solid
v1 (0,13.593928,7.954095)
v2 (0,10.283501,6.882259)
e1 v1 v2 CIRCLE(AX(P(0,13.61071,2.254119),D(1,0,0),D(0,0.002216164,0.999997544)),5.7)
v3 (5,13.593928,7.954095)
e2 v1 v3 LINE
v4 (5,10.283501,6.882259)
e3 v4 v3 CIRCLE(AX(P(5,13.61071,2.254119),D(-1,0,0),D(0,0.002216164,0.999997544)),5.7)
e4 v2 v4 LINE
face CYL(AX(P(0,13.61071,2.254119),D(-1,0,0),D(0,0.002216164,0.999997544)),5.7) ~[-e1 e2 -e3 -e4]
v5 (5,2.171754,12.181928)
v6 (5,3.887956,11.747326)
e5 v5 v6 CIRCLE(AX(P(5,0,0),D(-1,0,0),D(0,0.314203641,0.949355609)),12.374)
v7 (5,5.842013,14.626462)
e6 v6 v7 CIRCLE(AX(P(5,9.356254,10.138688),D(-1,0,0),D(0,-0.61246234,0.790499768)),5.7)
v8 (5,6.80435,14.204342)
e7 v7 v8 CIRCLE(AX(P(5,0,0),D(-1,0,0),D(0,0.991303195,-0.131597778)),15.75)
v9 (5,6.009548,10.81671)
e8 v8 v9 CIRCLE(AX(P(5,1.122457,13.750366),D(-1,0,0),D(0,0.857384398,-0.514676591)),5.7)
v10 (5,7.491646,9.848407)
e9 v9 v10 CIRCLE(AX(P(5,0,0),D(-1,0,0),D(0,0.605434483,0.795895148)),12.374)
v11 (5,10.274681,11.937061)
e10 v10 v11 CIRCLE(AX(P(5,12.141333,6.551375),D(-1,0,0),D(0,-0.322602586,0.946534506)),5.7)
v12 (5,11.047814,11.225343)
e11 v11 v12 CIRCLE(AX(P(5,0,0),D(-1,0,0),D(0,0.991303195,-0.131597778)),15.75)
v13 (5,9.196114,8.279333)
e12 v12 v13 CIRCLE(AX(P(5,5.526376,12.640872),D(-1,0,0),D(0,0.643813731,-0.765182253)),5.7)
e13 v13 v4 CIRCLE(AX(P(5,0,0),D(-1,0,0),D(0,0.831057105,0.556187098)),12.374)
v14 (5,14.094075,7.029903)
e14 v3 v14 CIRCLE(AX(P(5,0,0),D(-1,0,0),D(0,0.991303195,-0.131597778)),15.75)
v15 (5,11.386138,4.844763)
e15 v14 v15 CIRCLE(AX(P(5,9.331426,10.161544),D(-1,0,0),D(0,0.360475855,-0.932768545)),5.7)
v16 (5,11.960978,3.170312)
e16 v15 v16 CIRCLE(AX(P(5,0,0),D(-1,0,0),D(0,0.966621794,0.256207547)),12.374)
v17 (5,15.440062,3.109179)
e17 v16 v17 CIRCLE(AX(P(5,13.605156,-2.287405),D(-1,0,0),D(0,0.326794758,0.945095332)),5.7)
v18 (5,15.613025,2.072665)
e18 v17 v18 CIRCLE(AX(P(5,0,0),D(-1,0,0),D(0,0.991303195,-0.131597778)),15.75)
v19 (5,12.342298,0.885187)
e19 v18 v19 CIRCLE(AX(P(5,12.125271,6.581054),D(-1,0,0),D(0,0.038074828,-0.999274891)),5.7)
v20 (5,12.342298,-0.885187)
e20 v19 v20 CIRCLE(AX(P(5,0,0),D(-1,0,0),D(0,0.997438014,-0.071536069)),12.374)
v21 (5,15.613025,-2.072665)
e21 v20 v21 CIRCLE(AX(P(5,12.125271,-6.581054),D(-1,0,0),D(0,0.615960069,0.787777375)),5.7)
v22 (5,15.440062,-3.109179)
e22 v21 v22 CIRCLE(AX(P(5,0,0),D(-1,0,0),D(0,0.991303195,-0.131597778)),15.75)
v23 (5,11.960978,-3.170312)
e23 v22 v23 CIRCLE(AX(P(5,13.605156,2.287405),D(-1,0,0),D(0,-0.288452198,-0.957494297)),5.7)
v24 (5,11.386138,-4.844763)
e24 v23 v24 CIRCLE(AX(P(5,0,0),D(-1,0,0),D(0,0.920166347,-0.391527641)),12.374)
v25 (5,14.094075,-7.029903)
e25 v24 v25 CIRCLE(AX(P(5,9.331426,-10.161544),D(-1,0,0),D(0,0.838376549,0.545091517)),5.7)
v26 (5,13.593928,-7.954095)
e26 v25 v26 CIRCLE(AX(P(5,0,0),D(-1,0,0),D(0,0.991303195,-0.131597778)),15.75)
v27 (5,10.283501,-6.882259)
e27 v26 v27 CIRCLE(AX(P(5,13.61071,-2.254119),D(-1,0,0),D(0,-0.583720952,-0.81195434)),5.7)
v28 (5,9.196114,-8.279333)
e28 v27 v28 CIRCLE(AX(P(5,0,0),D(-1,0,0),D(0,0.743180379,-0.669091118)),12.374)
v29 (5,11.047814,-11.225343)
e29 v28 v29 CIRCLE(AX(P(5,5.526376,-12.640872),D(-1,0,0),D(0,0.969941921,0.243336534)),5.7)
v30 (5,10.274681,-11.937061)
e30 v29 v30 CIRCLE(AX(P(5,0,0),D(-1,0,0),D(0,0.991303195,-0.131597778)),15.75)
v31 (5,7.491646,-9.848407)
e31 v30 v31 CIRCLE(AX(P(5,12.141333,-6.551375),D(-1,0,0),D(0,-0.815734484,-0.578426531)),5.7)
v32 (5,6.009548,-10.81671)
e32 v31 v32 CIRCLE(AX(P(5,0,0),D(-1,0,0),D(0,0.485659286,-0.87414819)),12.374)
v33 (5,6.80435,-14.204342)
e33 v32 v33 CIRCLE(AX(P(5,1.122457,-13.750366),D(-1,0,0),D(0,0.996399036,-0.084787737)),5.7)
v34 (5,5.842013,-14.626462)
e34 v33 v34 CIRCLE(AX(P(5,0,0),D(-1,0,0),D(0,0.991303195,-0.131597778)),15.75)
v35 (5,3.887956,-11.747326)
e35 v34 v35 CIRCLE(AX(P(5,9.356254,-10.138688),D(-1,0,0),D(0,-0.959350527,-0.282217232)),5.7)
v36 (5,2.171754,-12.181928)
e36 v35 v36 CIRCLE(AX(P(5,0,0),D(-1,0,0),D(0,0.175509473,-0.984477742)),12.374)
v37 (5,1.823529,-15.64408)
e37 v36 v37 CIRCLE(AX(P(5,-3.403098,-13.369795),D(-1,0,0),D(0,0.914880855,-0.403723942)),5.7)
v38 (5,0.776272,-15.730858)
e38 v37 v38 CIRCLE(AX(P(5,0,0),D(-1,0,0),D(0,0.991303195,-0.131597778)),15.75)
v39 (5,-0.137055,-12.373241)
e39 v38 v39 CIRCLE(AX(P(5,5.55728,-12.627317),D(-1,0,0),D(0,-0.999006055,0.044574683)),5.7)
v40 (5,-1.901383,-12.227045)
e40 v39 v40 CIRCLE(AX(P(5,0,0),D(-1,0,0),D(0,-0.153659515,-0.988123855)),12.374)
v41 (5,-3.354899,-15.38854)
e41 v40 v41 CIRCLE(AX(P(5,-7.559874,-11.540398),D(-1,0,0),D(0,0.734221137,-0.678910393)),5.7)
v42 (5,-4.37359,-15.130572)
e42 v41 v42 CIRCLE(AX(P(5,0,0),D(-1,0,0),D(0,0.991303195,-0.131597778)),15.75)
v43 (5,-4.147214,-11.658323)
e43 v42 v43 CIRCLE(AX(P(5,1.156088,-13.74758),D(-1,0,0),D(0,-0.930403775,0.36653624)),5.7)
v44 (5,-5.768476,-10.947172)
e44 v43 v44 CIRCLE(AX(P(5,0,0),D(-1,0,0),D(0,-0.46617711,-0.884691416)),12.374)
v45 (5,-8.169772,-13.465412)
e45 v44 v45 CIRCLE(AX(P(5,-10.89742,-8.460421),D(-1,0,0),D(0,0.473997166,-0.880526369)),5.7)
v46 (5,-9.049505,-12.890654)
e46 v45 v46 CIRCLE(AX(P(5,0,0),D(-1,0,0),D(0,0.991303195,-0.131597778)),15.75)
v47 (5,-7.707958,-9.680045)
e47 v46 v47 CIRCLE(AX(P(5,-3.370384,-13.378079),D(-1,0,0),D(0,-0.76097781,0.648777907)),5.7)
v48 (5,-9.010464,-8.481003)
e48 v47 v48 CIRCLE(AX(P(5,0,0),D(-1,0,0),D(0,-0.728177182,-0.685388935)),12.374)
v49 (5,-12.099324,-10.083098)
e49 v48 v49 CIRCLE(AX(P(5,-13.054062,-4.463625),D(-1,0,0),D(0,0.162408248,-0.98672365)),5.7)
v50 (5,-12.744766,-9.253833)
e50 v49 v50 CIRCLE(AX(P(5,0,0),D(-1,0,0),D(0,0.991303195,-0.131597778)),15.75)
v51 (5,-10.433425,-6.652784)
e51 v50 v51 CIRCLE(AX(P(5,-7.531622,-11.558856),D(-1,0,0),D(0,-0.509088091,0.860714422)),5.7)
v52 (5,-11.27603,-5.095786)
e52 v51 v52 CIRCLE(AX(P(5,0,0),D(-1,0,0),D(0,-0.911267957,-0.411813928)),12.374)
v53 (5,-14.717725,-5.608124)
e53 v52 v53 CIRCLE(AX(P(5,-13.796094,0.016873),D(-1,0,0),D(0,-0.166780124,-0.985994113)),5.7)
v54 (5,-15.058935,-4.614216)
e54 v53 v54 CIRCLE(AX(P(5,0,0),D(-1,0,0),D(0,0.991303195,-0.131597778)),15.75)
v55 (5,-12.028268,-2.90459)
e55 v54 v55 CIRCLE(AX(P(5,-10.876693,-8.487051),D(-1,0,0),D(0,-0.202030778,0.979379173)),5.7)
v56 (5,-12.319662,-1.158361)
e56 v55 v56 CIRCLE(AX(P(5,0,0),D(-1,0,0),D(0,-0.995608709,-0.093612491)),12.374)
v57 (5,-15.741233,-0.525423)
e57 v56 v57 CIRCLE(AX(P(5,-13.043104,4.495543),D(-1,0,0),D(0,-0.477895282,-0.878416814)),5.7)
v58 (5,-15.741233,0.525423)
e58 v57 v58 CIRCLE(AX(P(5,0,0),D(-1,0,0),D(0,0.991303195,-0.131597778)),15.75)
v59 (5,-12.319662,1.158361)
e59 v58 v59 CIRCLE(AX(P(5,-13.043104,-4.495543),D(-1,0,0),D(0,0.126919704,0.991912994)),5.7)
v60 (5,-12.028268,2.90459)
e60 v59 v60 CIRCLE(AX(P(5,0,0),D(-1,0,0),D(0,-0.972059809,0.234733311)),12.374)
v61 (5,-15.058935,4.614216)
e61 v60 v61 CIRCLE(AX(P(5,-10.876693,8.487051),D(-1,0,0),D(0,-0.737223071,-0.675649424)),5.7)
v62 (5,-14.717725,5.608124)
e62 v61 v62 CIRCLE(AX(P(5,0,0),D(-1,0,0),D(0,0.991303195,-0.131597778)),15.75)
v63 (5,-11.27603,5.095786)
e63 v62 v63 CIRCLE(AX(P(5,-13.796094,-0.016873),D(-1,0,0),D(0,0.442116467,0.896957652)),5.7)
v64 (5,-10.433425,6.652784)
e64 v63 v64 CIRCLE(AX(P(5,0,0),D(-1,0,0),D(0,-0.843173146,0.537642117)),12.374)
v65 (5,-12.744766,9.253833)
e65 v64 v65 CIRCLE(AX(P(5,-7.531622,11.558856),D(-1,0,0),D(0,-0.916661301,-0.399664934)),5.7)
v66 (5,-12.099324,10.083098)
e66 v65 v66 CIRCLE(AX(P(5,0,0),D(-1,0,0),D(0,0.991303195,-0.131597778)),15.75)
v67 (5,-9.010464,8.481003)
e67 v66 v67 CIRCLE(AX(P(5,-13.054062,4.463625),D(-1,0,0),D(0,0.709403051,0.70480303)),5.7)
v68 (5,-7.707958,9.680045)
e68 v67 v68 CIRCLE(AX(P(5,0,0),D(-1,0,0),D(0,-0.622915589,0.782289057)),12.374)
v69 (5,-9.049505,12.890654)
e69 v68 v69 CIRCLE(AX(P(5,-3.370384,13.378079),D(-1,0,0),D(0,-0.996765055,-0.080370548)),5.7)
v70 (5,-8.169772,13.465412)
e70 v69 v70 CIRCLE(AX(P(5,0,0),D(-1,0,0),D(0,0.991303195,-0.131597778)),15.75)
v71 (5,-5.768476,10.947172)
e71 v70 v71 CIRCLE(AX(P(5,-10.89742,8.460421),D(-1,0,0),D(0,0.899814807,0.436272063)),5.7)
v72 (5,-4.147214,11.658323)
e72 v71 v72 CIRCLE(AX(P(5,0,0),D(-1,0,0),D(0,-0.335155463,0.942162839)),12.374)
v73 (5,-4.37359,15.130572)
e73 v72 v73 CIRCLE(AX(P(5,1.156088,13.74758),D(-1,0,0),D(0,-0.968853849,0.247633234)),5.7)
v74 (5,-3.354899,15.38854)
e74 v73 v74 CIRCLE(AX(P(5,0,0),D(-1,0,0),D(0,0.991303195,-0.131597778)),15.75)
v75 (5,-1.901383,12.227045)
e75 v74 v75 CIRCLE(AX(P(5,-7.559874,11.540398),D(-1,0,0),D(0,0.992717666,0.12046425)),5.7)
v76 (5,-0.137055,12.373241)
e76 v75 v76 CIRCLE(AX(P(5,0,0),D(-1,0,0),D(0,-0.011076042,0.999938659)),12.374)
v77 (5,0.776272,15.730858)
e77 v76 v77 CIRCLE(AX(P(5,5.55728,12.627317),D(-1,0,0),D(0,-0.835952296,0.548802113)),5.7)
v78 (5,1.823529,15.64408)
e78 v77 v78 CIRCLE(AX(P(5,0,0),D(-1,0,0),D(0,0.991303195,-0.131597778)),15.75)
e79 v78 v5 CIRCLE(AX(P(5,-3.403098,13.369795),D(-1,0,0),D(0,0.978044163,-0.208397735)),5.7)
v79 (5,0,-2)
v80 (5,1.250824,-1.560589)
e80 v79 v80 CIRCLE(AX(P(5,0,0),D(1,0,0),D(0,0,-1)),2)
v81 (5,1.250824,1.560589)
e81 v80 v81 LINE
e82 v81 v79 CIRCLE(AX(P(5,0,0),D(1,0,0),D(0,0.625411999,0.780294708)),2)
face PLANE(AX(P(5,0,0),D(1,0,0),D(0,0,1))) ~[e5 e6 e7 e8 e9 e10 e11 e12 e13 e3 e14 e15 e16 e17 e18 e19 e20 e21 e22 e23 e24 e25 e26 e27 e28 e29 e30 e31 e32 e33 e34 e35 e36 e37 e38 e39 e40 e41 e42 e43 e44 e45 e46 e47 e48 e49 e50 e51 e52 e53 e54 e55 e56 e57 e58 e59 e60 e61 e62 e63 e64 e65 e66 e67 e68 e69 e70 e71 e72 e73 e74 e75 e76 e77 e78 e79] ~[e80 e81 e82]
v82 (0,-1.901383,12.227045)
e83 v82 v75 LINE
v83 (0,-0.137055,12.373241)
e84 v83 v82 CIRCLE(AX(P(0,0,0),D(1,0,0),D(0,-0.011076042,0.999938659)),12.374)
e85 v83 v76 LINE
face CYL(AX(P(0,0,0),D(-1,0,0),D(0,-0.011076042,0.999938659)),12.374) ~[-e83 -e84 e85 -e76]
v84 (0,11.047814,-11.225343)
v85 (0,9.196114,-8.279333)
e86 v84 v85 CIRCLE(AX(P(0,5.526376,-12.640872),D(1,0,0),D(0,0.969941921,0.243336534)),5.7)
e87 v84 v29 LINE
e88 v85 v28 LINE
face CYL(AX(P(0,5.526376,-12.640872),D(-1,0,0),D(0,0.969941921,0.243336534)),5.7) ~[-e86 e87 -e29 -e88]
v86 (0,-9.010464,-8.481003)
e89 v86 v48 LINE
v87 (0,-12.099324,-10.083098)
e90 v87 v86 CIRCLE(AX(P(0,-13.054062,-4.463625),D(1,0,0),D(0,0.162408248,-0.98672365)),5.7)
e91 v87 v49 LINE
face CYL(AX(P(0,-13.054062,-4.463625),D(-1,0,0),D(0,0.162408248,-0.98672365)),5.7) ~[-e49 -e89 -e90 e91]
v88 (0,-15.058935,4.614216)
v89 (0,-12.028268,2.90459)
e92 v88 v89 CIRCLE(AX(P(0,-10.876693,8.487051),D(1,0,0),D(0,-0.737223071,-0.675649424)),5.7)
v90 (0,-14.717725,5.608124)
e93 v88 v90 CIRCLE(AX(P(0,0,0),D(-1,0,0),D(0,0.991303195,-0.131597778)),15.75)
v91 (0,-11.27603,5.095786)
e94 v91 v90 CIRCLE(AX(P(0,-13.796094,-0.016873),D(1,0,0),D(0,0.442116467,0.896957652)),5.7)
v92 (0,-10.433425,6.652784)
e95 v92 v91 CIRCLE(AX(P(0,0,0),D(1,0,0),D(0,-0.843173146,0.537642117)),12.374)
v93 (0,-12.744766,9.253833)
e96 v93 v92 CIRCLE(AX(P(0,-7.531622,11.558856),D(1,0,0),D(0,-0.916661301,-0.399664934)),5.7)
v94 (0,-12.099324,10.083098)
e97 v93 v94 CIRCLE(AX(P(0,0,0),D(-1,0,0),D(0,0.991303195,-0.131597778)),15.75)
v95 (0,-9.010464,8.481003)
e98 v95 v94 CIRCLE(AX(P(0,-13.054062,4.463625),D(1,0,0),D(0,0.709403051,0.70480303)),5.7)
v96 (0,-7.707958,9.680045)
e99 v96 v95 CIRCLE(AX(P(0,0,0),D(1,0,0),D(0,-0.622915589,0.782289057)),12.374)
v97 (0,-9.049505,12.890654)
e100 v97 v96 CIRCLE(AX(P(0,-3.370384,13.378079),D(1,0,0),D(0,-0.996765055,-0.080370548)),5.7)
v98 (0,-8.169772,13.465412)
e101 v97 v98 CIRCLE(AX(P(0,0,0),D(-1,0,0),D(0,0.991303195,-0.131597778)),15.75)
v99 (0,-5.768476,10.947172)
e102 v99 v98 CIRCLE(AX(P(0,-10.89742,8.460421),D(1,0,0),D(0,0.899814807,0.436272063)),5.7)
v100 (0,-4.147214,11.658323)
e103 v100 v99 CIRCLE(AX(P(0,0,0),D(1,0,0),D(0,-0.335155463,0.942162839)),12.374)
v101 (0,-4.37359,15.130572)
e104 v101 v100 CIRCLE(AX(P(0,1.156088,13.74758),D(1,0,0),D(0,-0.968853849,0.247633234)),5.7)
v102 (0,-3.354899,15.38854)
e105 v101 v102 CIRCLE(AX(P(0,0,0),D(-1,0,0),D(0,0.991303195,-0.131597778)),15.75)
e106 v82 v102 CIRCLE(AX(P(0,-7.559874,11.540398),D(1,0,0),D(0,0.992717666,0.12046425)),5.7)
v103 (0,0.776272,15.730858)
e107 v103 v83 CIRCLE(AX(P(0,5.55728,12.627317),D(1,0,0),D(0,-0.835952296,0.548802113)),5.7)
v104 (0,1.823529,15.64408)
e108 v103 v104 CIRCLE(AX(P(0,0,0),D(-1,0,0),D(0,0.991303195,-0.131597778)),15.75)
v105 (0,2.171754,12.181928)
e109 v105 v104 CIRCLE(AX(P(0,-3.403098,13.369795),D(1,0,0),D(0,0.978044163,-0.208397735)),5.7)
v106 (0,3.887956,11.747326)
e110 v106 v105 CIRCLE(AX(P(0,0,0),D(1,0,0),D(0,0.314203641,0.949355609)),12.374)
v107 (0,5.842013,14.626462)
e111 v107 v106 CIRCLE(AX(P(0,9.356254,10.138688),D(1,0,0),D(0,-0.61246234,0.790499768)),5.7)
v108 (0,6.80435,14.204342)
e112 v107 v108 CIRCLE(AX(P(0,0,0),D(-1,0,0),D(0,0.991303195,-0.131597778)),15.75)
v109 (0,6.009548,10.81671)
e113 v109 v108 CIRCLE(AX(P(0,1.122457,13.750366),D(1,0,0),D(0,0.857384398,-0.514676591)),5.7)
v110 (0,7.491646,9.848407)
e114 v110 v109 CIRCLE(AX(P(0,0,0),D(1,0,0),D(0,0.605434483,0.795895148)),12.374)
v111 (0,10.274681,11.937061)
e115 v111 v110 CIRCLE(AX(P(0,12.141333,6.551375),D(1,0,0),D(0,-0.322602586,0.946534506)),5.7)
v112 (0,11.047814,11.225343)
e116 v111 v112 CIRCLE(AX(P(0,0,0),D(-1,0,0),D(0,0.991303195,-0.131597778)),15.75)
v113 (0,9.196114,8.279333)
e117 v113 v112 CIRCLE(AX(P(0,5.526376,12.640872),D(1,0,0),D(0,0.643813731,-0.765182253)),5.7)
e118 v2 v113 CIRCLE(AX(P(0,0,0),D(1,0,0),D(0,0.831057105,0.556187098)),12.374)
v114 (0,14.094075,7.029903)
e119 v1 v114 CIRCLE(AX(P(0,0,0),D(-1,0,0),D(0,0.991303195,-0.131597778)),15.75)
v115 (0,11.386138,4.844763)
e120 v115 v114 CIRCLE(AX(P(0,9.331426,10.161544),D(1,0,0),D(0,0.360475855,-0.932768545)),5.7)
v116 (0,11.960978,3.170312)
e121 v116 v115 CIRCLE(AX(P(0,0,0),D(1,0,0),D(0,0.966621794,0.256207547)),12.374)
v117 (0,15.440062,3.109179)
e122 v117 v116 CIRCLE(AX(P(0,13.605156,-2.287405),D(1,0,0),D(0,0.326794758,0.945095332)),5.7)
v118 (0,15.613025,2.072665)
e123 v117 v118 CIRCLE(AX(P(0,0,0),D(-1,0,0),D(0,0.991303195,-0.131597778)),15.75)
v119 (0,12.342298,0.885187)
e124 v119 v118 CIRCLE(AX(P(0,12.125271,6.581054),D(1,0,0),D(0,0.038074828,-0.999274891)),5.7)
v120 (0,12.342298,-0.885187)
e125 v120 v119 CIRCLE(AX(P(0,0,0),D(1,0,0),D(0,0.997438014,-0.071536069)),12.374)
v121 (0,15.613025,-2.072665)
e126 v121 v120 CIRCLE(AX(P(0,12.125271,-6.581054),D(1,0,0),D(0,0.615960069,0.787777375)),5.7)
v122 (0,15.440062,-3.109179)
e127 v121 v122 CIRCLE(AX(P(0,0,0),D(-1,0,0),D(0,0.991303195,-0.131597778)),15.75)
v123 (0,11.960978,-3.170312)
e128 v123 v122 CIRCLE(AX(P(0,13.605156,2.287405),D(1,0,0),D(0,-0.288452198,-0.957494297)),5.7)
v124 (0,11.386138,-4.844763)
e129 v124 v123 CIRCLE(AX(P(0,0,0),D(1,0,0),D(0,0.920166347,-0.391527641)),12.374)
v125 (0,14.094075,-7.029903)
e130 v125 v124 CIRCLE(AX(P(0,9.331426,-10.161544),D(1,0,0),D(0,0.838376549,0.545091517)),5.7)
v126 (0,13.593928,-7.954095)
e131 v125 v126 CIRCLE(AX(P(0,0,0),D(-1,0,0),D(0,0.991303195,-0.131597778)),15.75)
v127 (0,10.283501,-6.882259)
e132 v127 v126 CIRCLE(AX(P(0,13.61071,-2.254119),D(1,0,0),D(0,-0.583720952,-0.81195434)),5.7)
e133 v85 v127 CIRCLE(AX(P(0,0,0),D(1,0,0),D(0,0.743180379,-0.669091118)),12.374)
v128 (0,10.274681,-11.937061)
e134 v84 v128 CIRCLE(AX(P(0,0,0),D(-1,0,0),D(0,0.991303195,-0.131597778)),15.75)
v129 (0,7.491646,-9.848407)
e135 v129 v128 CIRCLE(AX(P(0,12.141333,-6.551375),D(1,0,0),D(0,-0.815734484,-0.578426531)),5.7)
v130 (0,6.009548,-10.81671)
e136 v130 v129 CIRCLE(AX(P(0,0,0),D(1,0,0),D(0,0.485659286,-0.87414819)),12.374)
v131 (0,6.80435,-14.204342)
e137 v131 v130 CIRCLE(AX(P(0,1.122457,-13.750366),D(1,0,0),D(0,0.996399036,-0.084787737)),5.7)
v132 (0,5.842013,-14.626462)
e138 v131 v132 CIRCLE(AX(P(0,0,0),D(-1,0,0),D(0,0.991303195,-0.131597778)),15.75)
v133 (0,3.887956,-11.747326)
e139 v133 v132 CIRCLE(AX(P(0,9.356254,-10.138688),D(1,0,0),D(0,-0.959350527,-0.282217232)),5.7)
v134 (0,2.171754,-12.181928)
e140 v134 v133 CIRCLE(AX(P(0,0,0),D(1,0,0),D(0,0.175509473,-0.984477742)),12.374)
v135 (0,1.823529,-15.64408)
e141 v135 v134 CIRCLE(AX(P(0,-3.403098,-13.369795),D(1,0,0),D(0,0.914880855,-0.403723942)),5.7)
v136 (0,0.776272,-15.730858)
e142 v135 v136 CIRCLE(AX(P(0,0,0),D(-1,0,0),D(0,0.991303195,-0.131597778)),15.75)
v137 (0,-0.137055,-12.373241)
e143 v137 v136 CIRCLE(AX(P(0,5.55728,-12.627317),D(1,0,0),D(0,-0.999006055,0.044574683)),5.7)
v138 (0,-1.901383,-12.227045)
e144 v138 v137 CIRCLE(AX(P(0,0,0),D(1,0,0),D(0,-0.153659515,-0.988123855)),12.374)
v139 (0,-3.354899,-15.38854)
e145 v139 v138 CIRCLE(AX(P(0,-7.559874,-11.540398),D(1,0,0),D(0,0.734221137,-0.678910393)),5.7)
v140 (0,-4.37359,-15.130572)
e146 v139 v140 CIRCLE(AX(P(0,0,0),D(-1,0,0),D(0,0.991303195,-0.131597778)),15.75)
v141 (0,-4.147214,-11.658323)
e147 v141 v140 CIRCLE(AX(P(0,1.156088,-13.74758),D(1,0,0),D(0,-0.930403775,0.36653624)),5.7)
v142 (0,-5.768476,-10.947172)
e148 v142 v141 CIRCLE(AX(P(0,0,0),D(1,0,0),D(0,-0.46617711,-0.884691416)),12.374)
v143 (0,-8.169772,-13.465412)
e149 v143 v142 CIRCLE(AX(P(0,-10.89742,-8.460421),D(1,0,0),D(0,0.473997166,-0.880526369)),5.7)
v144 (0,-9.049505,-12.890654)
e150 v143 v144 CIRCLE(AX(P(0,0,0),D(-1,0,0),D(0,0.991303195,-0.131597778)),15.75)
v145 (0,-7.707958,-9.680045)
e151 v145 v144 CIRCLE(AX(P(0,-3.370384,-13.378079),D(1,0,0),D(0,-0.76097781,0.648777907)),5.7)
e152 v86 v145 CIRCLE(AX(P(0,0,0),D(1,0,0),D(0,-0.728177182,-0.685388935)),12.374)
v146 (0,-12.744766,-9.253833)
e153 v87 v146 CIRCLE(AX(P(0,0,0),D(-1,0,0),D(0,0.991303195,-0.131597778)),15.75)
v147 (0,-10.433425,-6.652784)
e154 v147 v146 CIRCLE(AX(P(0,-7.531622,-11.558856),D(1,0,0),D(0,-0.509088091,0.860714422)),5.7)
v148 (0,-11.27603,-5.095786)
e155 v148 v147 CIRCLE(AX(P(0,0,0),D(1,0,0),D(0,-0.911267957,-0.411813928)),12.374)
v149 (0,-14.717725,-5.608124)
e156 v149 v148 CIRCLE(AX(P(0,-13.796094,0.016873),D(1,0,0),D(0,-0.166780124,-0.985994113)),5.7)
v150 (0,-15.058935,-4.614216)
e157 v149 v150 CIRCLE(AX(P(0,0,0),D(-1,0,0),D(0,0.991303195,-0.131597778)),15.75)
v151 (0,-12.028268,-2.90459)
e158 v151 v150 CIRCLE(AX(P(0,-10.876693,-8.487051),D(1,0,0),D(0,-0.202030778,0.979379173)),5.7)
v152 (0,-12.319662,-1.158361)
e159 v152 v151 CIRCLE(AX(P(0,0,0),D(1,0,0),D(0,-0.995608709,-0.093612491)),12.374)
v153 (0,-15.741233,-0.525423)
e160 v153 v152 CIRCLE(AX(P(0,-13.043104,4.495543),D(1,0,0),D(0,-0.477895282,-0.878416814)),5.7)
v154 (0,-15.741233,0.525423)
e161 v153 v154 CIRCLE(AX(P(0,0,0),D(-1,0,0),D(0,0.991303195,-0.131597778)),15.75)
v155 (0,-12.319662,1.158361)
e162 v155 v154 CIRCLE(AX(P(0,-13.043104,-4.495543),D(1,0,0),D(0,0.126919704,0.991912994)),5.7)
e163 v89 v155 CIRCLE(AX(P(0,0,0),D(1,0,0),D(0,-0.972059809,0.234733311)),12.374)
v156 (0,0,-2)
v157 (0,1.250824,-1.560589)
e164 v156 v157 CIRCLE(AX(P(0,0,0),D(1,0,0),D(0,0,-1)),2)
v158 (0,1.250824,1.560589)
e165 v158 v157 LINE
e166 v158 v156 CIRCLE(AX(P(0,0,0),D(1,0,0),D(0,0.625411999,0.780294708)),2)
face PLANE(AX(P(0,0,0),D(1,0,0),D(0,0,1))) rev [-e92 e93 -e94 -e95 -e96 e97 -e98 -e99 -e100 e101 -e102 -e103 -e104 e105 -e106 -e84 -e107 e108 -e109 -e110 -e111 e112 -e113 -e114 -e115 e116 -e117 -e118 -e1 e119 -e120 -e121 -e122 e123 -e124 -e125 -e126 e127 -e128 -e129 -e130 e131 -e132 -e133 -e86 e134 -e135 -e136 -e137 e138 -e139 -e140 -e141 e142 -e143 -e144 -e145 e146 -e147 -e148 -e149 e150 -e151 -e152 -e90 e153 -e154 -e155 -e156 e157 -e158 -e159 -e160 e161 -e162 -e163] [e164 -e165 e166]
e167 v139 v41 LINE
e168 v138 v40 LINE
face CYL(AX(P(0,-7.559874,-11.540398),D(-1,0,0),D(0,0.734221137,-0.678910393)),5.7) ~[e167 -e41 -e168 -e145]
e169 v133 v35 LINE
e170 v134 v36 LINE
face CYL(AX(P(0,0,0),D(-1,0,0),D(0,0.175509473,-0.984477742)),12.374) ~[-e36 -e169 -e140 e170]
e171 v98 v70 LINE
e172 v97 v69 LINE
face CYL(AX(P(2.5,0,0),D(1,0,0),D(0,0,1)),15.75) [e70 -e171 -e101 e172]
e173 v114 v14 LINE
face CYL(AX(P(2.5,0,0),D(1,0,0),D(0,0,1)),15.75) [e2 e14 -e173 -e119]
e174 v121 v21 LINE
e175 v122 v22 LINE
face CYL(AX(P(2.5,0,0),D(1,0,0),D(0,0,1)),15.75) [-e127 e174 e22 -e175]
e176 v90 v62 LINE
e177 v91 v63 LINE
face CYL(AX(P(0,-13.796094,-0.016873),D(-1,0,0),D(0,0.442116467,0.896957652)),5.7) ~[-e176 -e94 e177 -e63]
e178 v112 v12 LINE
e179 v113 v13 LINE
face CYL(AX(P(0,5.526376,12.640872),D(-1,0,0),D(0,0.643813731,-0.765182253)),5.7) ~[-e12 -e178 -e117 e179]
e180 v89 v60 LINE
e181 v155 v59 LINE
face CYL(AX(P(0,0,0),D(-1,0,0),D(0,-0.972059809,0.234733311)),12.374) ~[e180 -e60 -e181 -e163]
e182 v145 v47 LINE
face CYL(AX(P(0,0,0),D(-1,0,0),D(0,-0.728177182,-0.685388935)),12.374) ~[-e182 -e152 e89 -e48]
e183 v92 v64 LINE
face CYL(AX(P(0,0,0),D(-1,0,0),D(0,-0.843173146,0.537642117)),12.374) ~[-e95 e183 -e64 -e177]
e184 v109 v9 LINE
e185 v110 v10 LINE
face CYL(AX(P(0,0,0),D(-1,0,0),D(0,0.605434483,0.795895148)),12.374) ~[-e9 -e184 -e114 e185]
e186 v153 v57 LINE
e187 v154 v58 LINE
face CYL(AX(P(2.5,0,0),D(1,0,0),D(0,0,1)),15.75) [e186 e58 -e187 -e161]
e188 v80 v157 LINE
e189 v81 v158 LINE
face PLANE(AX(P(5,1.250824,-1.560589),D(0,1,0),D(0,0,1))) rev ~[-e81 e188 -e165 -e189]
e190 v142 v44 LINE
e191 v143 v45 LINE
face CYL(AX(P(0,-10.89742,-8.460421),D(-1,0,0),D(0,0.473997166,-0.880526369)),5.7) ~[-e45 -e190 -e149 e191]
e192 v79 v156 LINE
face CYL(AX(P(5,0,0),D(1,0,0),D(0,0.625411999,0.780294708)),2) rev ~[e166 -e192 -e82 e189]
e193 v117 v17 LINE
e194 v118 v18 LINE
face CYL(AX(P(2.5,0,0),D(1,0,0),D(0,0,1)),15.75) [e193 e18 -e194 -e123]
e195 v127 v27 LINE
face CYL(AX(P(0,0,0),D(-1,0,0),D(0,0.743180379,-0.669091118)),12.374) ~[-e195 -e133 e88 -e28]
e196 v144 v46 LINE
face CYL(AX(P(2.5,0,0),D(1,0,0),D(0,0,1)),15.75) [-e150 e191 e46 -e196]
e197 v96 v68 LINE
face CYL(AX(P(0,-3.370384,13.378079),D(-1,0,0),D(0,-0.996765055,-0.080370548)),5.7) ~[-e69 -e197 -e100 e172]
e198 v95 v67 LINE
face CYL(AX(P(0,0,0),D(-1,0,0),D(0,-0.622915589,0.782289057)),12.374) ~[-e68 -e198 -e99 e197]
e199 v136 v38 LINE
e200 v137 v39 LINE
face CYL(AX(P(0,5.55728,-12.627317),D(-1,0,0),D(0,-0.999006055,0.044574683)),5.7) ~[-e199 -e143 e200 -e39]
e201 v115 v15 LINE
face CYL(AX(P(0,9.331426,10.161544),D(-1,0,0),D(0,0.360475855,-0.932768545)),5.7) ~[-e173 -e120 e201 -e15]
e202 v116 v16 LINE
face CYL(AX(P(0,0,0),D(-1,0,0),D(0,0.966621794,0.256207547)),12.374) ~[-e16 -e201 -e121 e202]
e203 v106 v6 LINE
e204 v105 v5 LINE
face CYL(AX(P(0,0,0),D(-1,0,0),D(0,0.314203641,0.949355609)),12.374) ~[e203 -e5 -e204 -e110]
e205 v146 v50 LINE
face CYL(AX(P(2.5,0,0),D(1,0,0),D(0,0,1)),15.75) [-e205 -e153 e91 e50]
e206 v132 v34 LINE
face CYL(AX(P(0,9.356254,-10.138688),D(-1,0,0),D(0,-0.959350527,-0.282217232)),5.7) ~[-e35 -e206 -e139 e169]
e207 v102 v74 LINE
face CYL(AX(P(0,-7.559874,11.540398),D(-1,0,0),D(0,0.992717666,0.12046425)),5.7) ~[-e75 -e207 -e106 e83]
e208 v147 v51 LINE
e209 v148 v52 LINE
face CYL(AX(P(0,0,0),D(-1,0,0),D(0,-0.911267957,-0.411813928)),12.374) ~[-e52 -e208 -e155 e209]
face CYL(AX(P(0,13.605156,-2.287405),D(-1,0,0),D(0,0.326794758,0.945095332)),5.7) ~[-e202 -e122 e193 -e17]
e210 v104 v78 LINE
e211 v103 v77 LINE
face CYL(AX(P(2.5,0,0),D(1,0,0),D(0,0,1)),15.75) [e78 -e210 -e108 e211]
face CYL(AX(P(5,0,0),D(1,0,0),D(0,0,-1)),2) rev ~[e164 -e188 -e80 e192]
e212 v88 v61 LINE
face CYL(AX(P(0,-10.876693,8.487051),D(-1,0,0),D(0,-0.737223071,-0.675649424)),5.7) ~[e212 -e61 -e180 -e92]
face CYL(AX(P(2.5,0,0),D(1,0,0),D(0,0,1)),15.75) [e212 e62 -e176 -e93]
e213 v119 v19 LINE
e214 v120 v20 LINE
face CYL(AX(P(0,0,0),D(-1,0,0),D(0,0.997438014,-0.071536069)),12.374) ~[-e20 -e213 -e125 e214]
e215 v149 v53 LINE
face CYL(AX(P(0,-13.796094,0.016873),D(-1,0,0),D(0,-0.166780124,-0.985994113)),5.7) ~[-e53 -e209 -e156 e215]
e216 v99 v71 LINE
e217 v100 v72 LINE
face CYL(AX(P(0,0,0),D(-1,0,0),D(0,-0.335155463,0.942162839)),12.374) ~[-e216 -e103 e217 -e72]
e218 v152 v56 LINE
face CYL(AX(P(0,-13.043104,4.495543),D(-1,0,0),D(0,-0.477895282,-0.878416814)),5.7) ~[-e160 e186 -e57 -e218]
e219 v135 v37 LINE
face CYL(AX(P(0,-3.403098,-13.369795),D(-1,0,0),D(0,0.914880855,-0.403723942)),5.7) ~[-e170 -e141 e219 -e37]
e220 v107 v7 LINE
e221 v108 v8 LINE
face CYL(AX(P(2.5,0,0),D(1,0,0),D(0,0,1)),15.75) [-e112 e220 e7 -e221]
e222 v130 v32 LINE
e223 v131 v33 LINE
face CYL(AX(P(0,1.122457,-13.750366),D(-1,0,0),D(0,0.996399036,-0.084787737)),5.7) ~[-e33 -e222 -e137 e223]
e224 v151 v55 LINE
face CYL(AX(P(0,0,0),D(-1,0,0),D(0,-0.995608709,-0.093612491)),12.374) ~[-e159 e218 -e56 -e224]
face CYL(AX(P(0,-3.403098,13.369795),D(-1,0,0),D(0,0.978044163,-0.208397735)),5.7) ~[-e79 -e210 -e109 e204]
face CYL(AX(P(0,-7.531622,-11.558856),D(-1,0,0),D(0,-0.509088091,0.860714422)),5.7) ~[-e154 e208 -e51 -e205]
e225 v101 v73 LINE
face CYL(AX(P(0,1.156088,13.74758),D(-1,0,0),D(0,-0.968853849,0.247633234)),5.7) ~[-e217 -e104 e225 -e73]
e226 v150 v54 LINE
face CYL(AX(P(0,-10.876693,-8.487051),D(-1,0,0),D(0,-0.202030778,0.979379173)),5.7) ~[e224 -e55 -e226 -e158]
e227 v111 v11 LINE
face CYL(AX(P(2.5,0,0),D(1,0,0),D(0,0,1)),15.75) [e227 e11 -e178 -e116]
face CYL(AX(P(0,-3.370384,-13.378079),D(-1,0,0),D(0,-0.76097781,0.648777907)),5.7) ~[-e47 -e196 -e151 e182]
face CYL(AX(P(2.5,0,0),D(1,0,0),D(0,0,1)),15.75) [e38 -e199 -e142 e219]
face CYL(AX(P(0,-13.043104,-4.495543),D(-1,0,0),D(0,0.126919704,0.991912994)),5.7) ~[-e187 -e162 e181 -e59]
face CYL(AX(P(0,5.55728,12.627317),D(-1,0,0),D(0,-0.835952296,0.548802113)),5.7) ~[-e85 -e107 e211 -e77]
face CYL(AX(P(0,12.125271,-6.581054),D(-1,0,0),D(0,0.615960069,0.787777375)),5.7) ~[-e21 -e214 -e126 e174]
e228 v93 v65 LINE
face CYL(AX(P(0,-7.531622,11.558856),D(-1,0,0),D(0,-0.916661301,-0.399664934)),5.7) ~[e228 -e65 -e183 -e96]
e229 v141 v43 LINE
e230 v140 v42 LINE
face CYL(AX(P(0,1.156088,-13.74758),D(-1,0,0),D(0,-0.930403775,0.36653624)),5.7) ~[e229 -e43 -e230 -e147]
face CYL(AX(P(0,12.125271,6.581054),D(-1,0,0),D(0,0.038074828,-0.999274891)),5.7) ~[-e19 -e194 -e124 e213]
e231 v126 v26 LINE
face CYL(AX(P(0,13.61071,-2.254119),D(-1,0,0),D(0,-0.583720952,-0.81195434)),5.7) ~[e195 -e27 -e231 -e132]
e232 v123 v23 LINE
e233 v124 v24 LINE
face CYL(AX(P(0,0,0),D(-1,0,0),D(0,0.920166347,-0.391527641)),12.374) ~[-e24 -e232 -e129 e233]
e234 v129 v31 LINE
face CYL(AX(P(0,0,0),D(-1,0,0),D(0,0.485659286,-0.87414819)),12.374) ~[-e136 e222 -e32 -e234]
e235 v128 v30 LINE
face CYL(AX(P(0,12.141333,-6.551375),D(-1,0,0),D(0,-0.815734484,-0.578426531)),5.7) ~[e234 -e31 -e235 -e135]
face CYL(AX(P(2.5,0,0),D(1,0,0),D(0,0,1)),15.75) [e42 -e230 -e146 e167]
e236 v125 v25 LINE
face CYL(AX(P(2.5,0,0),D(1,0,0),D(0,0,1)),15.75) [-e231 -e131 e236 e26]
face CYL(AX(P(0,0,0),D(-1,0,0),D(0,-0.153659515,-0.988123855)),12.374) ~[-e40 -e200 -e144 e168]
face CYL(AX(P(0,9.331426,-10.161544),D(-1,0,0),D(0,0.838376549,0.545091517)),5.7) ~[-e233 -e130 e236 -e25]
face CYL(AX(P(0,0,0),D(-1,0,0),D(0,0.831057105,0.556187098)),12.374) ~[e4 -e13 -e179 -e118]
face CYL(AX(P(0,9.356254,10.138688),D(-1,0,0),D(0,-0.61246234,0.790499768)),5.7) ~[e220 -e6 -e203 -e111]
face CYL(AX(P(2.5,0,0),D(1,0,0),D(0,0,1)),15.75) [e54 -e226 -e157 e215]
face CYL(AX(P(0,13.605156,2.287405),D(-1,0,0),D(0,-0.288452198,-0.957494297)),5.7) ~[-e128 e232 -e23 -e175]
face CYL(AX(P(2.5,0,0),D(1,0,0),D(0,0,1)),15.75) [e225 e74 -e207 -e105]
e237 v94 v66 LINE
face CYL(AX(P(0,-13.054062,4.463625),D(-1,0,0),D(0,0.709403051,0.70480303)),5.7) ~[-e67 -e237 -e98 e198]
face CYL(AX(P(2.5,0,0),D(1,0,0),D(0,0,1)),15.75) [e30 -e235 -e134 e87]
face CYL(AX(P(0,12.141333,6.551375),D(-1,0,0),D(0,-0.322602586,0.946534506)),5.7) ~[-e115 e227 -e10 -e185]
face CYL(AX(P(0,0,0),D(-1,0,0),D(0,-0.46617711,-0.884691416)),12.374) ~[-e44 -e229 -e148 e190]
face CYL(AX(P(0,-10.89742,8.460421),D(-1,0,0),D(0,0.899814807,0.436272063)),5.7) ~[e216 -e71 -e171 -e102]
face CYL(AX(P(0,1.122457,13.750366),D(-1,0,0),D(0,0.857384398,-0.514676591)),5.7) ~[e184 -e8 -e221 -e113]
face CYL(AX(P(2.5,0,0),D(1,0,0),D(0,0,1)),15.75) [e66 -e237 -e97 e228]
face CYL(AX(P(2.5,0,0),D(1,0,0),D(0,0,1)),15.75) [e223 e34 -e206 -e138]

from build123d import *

# Parameters (mm, degrees)
BASPROSKE_W        = 5
BASPROSKE_H        = 15.75
TOOTHCUT_DEPTH     = 23.828162432
TEETHCUTS_COUNT    = 19
TEETHCUTS_ANGLE    = 341.052631579
BORSKE_R           = 0.4
BORE_DEPTH         = 50.0000508
CUT_EXTRUDE1_DEPTH = 23.81496003


with BuildPart() as part:
    # BasProSke → Base-Revolve (revolve)
    with BuildSketch(Plane(origin=(0, 0, 0), x_dir=(1, 0, 0), z_dir=(0, 1, 0)), mode=Mode.PRIVATE) as base_revolve_sk:
        with Locations((2.5, 7.875)):
            Rectangle(BASPROSKE_W, BASPROSKE_H)
    revolve(base_revolve_sk.sketch.rotate(Axis((-10, 0, 0), (1, 0, 0)), 180), axis=Axis((-10, 0, 0), (1, 0, 0)))

    # TooCutSke → ToothCut (cut, through all)
    with BuildSketch(Plane(origin=(0, 0, 0), x_dir=(0, 0, -1), z_dir=(1, 0, 0))):
        with BuildLine():
            ThreePointArc((0.885187307, 12.34229798), (0, 12.374), (-0.885187307, 12.34229798))
            ThreePointArc((-0.885187307, 12.34229798), (-1.228281365, 14.084307739), (-2.090723145, 15.636243855))
            ThreePointArc((-2.090723145, 15.636243855), (0, 15.7754), (2.090723145, 15.636243855))
            ThreePointArc((2.090723145, 15.636243855), (1.228281365, 14.084307739), (0.885187307, 12.34229798))
        make_face()
    toothcut = extrude(amount=TOOTHCUT_DEPTH, mode=Mode.SUBTRACT)

    # TeethCuts: ToothCut ×19 about axis
    teethcuts_axis = Axis((-10, 0, 0), (1, 0, 0))
    for i in range(1, TEETHCUTS_COUNT):
        add(toothcut.rotate(teethcuts_axis, i * TEETHCUTS_ANGLE / (TEETHCUTS_COUNT - 1)), mode=Mode.SUBTRACT)

    # BorSke → Bore (cut, symmetric)
    with BuildSketch(Plane(origin=(0, 0, 0), x_dir=(0, 0, -1), z_dir=(1, 0, 0))):
        with Locations(Location((0, 0, 0), (0, 0, 180))):
            Circle(BORSKE_R)
    extrude(amount=BORE_DEPTH, both=True, mode=Mode.SUBTRACT)

    # Sketch1 → Cut-Extrude1 (cut, through all)
    with BuildSketch(Plane(origin=(5, 0, 0), x_dir=(0, 0, -1), z_dir=(1, 0, 0))):
        with BuildLine():
            Line((1.560589416, 1.250823998), (-1.560589416, 1.250823998))
            ThreePointArc((-1.560589416, 1.250823998), (-0.66288052, -1.886952415), (2, 0))
            ThreePointArc((2, 0), (1.886952415, 0.66288052), (1.560589416, 1.250823998))
        make_face()
    extrude(amount=-CUT_EXTRUDE1_DEPTH, mode=Mode.SUBTRACT)


solid = part.part
